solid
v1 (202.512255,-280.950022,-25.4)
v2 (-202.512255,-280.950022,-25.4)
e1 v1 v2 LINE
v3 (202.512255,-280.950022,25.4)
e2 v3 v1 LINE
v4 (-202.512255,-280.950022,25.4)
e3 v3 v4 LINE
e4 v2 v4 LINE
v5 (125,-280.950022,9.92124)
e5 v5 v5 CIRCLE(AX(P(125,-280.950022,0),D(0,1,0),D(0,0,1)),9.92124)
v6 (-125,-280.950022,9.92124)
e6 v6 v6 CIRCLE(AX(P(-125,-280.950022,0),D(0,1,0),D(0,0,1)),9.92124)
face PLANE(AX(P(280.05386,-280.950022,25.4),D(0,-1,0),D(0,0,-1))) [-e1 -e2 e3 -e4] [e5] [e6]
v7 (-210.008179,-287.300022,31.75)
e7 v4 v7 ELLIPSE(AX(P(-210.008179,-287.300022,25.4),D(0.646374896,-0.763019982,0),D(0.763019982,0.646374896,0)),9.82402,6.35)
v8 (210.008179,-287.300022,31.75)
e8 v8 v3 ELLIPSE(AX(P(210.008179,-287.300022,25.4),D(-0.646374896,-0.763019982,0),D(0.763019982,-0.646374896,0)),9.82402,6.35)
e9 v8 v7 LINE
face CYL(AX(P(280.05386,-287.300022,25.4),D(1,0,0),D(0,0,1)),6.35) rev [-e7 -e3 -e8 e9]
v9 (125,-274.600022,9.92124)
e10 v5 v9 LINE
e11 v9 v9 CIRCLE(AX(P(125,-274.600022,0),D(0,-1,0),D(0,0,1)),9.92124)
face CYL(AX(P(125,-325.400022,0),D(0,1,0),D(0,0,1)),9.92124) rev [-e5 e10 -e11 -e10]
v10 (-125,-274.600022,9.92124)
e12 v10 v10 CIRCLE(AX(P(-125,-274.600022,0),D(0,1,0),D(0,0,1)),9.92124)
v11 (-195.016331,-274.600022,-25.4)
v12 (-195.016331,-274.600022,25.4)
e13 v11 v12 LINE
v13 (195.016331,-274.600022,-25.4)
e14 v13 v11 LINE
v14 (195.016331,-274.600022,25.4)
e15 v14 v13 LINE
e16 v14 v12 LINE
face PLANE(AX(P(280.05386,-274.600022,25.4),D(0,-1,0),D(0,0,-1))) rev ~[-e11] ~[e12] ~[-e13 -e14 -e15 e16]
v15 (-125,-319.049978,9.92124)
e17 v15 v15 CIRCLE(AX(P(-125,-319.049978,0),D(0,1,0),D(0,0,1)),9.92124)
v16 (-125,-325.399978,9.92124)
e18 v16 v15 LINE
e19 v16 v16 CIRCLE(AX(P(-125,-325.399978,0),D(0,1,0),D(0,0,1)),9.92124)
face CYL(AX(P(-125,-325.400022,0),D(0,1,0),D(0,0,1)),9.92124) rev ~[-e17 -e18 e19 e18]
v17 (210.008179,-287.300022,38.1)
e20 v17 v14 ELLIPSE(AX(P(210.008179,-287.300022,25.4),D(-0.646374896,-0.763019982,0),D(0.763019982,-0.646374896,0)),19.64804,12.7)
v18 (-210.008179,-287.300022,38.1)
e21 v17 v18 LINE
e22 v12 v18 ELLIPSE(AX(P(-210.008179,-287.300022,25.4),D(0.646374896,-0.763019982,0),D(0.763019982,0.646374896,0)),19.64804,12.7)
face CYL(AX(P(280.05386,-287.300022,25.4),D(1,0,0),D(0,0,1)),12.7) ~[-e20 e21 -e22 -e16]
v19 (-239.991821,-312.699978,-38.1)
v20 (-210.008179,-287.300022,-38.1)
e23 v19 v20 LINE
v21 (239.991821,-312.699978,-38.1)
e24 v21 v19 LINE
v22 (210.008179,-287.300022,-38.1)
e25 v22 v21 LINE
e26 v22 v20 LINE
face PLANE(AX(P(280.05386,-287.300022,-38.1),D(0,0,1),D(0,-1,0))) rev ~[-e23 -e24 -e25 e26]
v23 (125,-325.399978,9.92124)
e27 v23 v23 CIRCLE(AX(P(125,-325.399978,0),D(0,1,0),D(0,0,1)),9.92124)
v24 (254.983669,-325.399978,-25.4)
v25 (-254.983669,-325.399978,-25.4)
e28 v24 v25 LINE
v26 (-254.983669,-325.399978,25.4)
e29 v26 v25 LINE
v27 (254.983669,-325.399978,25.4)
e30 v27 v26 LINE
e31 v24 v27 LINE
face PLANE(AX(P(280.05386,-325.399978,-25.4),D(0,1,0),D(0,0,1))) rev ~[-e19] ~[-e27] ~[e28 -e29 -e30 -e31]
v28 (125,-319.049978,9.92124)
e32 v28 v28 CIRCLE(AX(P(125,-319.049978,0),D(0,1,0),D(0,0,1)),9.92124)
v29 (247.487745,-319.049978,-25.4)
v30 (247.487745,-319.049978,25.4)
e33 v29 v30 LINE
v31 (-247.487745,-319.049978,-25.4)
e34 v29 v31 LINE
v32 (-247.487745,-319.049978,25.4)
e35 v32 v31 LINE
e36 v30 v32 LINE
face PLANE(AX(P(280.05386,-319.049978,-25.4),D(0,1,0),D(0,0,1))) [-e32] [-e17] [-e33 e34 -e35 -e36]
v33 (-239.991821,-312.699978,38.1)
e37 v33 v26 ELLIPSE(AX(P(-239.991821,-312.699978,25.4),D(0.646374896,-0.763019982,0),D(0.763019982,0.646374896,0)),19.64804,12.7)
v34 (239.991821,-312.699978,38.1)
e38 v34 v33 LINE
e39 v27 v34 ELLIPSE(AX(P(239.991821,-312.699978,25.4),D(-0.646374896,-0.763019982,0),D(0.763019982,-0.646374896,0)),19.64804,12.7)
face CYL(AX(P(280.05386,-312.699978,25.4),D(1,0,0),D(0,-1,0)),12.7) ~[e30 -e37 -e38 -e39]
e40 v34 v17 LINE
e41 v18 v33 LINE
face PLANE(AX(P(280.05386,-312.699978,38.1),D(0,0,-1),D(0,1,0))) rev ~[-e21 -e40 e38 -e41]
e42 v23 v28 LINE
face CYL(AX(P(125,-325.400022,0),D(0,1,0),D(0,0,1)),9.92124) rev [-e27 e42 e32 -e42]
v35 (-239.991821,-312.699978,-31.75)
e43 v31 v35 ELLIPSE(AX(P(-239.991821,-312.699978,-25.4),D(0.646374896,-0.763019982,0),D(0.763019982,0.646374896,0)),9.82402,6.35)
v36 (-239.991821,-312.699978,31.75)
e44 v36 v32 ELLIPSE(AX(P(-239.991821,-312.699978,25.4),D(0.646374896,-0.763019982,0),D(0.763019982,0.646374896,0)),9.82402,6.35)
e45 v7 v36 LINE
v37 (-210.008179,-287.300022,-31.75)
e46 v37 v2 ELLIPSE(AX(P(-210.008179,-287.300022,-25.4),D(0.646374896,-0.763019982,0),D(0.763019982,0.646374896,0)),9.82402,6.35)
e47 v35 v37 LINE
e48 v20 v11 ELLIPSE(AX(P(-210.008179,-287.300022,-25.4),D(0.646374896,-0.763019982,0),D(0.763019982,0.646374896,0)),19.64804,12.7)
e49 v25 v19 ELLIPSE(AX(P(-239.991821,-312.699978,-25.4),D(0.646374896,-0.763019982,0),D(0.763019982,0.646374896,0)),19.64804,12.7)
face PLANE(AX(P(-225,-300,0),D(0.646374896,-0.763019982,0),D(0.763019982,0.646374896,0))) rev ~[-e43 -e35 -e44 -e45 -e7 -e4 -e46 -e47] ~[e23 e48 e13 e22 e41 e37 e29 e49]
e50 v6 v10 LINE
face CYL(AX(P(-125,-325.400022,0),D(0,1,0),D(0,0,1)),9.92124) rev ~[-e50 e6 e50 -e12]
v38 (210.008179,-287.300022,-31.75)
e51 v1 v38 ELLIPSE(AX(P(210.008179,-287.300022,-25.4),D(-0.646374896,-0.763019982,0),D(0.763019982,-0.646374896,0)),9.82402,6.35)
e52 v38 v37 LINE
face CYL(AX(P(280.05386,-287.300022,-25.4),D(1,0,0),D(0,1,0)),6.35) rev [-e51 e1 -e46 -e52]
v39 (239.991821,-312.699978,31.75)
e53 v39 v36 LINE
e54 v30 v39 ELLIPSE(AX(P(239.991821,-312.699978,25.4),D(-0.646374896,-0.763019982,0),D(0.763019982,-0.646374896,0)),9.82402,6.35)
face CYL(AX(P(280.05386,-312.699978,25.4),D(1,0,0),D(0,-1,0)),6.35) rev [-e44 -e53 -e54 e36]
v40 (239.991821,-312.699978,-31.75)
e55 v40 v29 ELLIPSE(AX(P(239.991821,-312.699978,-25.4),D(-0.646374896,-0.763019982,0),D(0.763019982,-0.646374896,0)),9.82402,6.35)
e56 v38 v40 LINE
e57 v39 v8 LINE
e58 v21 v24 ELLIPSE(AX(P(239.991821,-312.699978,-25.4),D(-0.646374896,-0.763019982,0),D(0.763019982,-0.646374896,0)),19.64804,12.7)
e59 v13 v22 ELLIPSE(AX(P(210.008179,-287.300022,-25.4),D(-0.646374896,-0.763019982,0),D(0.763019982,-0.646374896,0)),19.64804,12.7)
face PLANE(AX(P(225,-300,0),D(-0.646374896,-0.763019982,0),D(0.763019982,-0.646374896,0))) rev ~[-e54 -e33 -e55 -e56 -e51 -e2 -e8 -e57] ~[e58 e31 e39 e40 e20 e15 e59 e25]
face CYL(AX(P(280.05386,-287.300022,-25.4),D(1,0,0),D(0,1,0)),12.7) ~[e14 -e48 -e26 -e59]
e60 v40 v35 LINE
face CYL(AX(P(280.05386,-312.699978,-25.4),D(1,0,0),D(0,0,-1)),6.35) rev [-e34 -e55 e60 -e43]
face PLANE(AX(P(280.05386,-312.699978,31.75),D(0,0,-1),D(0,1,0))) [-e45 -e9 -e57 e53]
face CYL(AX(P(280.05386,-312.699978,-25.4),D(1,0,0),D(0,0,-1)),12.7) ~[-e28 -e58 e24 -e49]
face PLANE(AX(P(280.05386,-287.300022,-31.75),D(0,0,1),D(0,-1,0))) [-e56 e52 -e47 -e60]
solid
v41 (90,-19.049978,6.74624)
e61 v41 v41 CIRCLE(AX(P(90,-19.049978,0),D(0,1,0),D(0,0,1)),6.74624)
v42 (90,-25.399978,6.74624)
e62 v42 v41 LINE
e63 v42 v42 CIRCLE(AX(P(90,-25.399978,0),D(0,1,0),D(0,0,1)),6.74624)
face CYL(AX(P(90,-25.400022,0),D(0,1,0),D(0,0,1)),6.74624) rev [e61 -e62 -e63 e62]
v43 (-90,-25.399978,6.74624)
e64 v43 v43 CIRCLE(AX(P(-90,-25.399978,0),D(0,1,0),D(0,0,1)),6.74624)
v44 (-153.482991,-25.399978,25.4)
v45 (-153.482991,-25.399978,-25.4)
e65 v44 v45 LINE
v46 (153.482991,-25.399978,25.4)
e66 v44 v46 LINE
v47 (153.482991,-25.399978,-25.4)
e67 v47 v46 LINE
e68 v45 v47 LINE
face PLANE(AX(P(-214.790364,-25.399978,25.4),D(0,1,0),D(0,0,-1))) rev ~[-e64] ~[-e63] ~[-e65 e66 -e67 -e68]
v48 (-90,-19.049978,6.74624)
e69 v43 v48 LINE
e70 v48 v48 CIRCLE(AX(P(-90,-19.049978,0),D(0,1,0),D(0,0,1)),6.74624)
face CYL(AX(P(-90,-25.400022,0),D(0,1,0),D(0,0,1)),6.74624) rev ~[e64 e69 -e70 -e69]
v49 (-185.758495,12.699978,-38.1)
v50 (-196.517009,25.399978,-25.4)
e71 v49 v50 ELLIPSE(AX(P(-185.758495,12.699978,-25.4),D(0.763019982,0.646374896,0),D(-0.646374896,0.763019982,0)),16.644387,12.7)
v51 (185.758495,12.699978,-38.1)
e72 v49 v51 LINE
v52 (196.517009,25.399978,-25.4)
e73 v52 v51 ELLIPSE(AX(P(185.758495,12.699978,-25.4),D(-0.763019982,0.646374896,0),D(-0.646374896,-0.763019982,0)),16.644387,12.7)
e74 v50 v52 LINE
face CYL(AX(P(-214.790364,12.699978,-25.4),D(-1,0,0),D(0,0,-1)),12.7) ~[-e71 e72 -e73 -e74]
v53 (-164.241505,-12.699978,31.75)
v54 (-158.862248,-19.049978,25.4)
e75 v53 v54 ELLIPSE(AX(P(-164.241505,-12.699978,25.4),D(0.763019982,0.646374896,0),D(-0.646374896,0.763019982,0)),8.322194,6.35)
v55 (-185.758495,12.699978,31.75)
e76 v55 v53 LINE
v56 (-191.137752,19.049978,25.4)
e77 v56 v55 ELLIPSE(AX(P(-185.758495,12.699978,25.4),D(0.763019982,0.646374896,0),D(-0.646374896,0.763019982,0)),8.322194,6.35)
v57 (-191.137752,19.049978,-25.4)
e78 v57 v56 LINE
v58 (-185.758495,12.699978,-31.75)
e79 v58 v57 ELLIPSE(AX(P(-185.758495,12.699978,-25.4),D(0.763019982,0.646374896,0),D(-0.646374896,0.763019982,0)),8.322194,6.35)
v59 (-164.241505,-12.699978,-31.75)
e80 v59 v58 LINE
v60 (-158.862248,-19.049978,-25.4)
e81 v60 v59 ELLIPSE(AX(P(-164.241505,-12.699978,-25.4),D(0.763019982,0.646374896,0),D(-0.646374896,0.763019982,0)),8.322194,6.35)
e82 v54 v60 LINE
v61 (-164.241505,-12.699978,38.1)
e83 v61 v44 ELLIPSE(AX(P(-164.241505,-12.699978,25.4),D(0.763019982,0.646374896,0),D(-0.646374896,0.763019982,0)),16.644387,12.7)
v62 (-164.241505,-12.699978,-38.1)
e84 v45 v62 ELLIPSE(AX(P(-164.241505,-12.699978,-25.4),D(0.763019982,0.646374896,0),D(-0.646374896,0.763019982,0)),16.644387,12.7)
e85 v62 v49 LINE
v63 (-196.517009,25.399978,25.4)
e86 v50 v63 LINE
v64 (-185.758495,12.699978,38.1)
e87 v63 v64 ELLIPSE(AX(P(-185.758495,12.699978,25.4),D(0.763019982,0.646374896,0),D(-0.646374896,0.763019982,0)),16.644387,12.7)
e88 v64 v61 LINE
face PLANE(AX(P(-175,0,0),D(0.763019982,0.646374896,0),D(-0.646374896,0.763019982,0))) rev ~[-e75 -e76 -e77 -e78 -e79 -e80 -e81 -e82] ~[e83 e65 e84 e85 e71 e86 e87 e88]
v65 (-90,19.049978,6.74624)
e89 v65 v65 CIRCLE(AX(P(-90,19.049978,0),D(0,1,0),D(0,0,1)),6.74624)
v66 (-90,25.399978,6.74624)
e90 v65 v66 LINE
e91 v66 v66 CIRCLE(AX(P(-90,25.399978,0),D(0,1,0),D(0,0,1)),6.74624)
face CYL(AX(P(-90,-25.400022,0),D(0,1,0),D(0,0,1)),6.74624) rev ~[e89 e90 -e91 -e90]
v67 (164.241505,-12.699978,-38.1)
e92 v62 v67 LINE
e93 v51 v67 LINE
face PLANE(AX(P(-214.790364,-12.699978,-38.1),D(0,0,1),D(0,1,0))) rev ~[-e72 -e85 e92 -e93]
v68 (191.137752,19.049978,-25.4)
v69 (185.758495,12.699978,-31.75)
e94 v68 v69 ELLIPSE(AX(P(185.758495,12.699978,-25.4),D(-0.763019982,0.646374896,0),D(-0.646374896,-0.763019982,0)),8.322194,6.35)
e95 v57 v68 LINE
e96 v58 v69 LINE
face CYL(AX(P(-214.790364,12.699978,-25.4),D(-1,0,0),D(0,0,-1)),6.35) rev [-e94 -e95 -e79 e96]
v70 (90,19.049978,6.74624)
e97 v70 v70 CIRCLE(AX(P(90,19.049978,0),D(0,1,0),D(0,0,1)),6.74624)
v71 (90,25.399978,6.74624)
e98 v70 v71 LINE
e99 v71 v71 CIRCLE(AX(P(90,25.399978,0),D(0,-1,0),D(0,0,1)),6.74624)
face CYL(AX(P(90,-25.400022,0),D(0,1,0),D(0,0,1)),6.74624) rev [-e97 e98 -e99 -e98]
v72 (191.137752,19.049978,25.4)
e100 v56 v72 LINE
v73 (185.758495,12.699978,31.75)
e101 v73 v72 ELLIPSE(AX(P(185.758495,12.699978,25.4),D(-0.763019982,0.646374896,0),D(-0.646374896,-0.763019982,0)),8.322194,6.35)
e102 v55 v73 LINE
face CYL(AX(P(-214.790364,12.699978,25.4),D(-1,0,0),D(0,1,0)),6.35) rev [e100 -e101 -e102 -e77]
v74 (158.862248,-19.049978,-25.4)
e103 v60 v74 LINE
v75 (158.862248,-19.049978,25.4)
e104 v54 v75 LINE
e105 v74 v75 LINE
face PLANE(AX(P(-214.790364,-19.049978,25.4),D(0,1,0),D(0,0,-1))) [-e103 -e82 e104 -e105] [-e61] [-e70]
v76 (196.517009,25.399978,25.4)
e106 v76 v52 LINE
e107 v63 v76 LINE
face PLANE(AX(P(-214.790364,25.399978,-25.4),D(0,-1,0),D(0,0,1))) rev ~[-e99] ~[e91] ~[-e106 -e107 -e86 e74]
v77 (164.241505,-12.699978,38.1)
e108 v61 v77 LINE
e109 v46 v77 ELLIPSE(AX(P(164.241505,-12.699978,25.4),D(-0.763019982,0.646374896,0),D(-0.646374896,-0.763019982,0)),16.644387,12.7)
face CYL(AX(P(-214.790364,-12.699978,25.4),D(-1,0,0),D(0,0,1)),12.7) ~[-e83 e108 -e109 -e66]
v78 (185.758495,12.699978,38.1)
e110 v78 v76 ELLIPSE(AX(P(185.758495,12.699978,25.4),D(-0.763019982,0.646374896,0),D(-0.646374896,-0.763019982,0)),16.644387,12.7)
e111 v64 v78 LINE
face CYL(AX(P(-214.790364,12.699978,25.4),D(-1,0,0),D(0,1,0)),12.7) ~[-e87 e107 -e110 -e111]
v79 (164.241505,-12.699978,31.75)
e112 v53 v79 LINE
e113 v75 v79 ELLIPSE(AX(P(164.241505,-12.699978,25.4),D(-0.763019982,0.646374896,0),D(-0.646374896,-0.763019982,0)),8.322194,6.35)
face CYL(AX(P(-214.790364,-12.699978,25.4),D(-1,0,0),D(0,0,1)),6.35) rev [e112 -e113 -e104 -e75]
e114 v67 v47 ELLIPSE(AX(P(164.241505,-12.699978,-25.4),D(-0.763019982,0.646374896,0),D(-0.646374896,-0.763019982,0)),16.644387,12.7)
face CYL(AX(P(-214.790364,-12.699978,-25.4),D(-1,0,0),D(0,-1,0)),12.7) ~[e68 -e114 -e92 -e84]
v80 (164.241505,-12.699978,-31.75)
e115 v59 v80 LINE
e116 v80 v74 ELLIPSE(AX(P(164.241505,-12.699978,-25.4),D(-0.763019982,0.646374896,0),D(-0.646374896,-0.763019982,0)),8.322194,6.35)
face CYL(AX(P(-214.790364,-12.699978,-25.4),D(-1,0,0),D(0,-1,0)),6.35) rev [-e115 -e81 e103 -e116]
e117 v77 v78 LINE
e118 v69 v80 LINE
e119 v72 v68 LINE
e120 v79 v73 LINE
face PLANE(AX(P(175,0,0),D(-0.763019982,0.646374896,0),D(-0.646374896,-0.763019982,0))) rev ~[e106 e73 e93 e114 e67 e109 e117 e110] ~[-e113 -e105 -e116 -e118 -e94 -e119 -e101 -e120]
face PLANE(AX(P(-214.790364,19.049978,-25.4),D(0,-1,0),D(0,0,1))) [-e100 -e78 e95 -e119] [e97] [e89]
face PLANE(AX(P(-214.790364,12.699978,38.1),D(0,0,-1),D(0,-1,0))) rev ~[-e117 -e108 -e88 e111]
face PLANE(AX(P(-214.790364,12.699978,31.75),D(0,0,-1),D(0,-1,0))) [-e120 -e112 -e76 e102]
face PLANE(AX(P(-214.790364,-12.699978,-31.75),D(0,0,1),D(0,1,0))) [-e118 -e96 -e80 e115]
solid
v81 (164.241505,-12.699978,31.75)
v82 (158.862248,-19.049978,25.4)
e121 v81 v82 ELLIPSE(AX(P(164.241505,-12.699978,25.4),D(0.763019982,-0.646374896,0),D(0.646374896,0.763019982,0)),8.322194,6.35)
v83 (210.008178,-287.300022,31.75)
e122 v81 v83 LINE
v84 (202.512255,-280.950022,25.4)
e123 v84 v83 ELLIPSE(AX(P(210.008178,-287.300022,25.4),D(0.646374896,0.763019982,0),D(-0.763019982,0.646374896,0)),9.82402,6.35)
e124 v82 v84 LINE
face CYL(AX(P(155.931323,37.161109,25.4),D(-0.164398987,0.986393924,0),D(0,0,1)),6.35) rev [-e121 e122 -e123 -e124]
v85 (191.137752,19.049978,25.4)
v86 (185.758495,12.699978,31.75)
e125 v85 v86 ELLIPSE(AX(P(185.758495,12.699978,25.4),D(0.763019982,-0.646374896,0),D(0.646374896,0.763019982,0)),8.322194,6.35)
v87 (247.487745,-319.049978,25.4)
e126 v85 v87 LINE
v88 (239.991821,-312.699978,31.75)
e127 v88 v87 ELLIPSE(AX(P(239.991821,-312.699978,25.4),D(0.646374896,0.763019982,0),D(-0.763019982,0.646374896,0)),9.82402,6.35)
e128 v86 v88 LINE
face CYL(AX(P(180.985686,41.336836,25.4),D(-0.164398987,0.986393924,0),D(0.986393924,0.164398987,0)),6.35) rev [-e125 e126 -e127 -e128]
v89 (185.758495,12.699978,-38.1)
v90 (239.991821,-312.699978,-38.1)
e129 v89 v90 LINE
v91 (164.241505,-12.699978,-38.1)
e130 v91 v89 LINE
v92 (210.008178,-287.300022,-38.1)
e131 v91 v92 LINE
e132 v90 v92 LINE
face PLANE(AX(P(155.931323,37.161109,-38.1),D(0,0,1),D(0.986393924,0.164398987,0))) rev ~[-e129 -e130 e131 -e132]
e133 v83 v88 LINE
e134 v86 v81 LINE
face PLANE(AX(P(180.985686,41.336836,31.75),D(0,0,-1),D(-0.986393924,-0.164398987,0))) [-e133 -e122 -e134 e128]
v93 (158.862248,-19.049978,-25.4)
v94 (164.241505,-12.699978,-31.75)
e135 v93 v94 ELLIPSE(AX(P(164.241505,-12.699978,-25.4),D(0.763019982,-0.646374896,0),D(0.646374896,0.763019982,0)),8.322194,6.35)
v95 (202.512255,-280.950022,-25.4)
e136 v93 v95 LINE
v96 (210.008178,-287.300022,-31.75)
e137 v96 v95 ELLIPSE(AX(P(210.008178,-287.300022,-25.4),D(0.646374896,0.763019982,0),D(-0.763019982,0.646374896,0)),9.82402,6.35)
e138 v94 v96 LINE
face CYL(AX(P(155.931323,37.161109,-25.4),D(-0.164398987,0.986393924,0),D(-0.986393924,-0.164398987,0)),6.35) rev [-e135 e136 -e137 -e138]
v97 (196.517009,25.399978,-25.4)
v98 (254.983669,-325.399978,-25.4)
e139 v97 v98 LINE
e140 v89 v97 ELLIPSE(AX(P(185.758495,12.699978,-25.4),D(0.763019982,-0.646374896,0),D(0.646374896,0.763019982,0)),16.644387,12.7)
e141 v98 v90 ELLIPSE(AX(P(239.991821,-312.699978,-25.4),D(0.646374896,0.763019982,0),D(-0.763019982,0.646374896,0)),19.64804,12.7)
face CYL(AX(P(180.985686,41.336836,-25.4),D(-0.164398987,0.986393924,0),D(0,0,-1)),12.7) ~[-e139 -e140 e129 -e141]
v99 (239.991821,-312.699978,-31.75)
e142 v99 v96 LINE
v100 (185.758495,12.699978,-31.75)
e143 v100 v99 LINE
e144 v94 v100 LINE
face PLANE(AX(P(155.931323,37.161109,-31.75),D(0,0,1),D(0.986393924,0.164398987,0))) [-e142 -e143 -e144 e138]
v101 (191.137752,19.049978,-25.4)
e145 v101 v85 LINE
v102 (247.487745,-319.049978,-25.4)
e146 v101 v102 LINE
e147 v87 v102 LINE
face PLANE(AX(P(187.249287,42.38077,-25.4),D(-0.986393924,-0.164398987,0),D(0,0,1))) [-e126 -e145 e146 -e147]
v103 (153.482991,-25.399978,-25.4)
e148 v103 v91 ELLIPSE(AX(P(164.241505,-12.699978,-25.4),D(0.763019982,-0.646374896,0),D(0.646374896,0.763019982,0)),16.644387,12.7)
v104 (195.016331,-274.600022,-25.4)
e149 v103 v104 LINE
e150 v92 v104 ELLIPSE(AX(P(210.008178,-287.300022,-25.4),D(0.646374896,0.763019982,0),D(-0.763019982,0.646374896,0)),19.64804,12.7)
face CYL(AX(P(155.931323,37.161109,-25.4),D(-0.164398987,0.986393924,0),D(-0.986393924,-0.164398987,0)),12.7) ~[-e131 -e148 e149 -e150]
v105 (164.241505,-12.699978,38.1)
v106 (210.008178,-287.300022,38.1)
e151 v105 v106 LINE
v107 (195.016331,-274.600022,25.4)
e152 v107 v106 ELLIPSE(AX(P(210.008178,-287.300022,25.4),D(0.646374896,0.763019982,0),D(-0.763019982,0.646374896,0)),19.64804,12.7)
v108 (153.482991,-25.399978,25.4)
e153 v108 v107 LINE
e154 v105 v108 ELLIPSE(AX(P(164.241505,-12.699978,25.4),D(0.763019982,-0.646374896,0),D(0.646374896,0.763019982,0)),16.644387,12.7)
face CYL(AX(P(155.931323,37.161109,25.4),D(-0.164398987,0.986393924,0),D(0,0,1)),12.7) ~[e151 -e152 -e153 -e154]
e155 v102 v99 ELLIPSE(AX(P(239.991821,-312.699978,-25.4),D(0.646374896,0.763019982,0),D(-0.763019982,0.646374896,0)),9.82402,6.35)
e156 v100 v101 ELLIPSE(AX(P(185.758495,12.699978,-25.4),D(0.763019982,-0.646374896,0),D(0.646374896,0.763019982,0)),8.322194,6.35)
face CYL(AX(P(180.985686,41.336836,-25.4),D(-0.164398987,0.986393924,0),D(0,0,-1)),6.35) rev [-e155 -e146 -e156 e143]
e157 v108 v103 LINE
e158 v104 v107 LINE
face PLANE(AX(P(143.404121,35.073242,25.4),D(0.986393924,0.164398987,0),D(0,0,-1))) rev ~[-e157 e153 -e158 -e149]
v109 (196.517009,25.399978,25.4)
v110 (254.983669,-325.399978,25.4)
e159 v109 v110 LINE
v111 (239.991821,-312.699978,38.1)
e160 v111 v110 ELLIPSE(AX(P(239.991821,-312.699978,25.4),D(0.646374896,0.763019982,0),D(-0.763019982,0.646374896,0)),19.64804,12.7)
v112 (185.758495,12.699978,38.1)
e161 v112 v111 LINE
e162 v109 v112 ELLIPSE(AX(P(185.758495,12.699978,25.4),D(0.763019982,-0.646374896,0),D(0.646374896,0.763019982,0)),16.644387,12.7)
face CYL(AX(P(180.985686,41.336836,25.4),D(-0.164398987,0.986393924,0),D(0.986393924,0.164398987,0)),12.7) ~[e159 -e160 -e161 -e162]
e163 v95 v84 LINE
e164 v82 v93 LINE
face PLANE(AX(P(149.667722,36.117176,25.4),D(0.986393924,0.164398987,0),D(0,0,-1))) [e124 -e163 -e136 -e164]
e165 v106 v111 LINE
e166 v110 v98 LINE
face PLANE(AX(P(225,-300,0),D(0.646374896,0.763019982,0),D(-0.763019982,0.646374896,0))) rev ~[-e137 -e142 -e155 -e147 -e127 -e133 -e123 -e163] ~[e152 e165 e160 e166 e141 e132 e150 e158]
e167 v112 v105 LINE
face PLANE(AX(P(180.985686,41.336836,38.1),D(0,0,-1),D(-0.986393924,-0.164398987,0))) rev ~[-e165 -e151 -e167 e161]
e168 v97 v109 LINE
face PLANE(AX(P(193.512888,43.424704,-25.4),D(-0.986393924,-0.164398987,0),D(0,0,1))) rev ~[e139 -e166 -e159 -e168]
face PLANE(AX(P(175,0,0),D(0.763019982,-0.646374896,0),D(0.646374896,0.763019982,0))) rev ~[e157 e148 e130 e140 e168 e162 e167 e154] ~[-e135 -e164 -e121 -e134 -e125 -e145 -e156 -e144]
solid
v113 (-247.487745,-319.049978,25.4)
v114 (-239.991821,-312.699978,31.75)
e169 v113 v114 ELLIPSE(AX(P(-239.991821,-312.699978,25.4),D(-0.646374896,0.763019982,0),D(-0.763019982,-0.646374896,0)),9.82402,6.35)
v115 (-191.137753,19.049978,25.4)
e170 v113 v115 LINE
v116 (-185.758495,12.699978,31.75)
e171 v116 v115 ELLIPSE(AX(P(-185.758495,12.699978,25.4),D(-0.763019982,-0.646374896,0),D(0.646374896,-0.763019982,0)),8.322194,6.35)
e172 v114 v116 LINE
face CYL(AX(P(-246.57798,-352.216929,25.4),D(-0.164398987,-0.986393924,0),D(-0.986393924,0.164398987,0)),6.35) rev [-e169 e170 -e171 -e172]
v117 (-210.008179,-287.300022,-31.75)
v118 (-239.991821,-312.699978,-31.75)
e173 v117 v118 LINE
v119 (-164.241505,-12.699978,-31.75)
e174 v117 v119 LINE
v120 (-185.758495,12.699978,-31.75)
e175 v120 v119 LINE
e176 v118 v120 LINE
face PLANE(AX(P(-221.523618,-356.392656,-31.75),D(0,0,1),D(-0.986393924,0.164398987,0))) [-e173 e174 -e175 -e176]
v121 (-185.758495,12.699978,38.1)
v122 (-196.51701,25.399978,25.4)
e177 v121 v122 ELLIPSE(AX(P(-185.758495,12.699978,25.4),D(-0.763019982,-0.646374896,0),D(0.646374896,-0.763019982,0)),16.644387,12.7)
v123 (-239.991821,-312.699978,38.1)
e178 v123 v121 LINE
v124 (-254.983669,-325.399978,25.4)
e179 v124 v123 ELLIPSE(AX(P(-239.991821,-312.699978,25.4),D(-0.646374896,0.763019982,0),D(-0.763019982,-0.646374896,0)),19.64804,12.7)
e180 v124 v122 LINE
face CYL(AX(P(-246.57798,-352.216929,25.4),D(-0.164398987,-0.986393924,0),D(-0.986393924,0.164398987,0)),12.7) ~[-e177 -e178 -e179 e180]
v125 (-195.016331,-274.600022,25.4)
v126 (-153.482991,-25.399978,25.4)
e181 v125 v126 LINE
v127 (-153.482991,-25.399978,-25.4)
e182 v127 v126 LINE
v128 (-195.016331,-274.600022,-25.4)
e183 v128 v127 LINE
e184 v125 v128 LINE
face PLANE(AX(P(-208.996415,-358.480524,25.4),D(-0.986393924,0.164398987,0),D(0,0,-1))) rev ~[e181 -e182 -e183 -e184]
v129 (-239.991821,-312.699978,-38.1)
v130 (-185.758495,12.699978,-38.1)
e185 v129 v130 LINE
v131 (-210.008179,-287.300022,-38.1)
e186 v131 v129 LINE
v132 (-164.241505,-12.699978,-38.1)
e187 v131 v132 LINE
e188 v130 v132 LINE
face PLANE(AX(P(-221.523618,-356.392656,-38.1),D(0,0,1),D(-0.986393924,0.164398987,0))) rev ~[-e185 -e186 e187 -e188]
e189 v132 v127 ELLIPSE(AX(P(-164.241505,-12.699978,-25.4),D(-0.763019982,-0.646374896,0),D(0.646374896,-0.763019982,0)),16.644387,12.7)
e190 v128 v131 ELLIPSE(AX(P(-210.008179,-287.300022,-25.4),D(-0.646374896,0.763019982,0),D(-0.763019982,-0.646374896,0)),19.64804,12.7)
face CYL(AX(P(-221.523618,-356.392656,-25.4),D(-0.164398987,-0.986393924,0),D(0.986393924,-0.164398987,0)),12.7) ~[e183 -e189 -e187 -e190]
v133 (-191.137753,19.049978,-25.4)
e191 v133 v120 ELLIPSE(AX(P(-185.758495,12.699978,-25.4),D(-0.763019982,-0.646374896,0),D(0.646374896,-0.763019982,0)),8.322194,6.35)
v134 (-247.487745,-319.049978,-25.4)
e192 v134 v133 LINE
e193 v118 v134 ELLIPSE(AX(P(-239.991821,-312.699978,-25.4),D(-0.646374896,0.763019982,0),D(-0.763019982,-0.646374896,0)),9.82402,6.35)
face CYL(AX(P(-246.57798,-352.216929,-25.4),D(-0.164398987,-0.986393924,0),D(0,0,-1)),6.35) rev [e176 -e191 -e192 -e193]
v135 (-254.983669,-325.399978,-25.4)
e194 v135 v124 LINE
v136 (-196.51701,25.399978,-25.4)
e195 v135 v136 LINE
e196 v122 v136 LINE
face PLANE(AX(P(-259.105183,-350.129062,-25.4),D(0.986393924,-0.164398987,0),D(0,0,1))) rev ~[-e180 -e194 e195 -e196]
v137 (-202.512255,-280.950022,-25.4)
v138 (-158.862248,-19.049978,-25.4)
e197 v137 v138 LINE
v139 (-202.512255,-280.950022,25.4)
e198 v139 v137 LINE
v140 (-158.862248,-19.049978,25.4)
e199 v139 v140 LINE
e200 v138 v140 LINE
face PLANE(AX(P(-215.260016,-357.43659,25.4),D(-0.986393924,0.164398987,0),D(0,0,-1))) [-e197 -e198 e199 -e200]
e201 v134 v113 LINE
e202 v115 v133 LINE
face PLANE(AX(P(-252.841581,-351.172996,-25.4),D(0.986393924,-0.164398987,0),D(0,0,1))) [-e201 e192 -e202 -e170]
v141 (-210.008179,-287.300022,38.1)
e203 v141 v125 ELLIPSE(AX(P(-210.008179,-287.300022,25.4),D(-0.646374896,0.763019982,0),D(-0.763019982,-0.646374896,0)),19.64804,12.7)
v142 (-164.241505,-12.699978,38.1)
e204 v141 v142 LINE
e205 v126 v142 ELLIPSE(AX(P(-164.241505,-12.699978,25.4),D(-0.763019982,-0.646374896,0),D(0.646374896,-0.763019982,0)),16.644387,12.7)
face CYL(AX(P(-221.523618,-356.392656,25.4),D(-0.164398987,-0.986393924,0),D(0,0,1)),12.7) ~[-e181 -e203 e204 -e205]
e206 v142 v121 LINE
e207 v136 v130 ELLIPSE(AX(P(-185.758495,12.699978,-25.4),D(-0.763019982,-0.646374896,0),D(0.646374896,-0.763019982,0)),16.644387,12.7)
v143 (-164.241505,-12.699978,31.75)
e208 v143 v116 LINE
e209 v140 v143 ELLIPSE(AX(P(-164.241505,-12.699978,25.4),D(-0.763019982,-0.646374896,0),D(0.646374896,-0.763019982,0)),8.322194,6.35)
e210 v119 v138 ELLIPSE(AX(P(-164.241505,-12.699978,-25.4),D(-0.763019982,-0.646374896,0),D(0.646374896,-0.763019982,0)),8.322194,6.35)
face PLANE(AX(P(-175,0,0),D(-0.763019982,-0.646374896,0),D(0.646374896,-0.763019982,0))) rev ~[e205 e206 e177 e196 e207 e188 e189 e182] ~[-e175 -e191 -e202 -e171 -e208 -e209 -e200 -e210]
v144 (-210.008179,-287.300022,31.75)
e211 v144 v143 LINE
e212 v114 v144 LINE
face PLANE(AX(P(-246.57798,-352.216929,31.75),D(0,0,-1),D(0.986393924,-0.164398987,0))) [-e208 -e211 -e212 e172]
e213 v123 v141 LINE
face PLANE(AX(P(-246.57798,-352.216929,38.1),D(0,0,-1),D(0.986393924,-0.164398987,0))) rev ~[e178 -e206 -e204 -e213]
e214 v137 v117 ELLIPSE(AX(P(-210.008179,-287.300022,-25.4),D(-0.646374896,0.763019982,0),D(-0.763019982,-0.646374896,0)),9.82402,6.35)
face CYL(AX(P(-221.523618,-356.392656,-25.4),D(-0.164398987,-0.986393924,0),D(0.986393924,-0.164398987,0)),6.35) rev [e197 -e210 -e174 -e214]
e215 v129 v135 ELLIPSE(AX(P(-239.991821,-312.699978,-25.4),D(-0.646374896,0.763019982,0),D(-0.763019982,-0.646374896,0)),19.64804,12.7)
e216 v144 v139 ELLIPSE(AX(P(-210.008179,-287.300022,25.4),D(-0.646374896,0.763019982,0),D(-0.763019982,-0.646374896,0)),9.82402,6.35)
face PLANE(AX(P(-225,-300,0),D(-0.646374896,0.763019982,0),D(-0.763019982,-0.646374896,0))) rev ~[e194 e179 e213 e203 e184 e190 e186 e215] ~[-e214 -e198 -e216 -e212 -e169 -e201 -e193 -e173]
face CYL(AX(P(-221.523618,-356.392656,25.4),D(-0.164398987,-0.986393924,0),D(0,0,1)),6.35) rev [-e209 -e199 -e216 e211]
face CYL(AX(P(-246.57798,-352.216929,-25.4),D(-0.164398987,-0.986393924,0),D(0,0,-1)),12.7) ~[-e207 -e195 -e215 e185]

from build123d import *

# Parameters (mm, degrees)
STRUCTURAL_MEMBER1_DEPTH      = 389.790363618
STRUCTURAL_MEMBER1_DEPTH_BACK = 39.790363618
STRUCTURAL_MEMBER1_2_DEPTH    = 398.982350083
STRUCTURAL_MEMBER1_3_DEPTH    = 560.107719899
STRUCTURAL_MEMBER1_4_DEPTH    = 398.982350083


with BuildPart() as part:
    # Sketch141 → Structural Member1 (new, two sides: drawn at the far end of the back side and taken through both)
    with BuildSketch(Plane.YZ.offset(-175).offset(-STRUCTURAL_MEMBER1_DEPTH_BACK)):
        with BuildLine():
            Line((-12.699978, -38.1), (12.699978, -38.1))
            ThreePointArc((12.699978, -38.1), (21.680234121, -34.380256121), (25.399978, -25.4))
            Line((25.399978, -25.4), (25.399978, 25.4))
            ThreePointArc((25.399978, 25.4), (21.680234121, 34.380256121), (12.699978, 38.1))
            Line((12.699978, 38.1), (-12.699978, 38.1))
            ThreePointArc((-12.699978, 38.1), (-21.680234121, 34.380256121), (-25.399978, 25.4))
            Line((-25.399978, 25.4), (-25.399978, -25.4))
            ThreePointArc((-25.399978, -25.4), (-21.680234121, -34.380256121), (-12.699978, -38.1))
        make_face()
        with BuildLine():
            Line((-12.699978, -31.75), (12.699978, -31.75))
            ThreePointArc((12.699978, -31.75), (17.190106061, -29.890128061), (19.049978, -25.4))
            Line((19.049978, -25.4), (19.049978, 25.4))
            ThreePointArc((19.049978, 25.4), (17.190106061, 29.890128061), (12.699978, 31.75))
            Line((12.699978, 31.75), (-12.699978, 31.75))
            ThreePointArc((-12.699978, 31.75), (-17.190106061, 29.890128061), (-19.049978, 25.4))
            Line((-19.049978, 25.4), (-19.049978, -25.4))
            ThreePointArc((-19.049978, -25.4), (-17.190106061, -29.890128061), (-12.699978, -31.75))
        make_face(mode=Mode.SUBTRACT)
    extrude(amount=STRUCTURAL_MEMBER1_DEPTH + STRUCTURAL_MEMBER1_DEPTH_BACK)

    # Structural Member1 mitre 1
    split(bisect_by=Plane(origin=(-175, 0, 0), x_dir=(-0.646374896, 0.763019982, 0), z_dir=(0.763019982, 0.646374896, 0)), keep=Keep.TOP)

    # Structural Member1 mitre 2
    split(bisect_by=Plane(origin=(175, 0, 0), x_dir=(-0.646374896, -0.763019982, 0), z_dir=(-0.763019982, 0.646374896, 0)), keep=Keep.TOP)

    # Sketch143 → 1/2 Clearance Hole1 (revolve, cut)
    with BuildSketch(Plane(origin=(90, 25.399978, 0), x_dir=(0, 0, 1), z_dir=(1, 0, 0))):
        Polygon((0, 0), (0, 54.853549943), (6.74624, 50.8), (6.74624, 0), align=None)
    f_1_2_clearance_hole1 = revolve(axis=Axis((90, 31.749978, 0), (0, -1, 0)), mode=Mode.SUBTRACT)

    # Mirror1: 1/2 Clearance Hole1 across plane
    add(f_1_2_clearance_hole1.mirror(Plane(origin=(0, 0, 0), x_dir=(0, 0, 1), z_dir=(1, 0, 0))), mode=Mode.SUBTRACT)


with BuildPart() as body_2:
    # Sketch141 on segment 2 (carried to segment 2) → Structural Member1 2 (new body)
    with BuildSketch(Plane(origin=(168.458504517, 39.2489729, 0), x_dir=(0.986393924, 0.164398987, 0), z_dir=(0.164398987, -0.986393924, 0))):
        with BuildLine():
            Line((-12.699978, -38.1), (12.699978, -38.1))
            ThreePointArc((12.699978, -38.1), (21.680234121, -34.380256121), (25.399978, -25.4))
            Line((25.399978, -25.4), (25.399978, 25.4))
            ThreePointArc((25.399978, 25.4), (21.680234121, 34.380256121), (12.699978, 38.1))
            Line((12.699978, 38.1), (-12.699978, 38.1))
            ThreePointArc((-12.699978, 38.1), (-21.680234121, 34.380256121), (-25.399978, 25.4))
            Line((-25.399978, 25.4), (-25.399978, -25.4))
            ThreePointArc((-25.399978, -25.4), (-21.680234121, -34.380256121), (-12.699978, -38.1))
        make_face()
        with BuildLine():
            Line((-12.699978, -31.75), (12.699978, -31.75))
            ThreePointArc((12.699978, -31.75), (17.190106061, -29.890128061), (19.049978, -25.4))
            Line((19.049978, -25.4), (19.049978, 25.4))
            ThreePointArc((19.049978, 25.4), (17.190106061, 29.890128061), (12.699978, 31.75))
            Line((12.699978, 31.75), (-12.699978, 31.75))
            ThreePointArc((-12.699978, 31.75), (-17.190106061, 29.890128061), (-19.049978, 25.4))
            Line((-19.049978, 25.4), (-19.049978, -25.4))
            ThreePointArc((-19.049978, -25.4), (-17.190106061, -29.890128061), (-12.699978, -31.75))
        make_face(mode=Mode.SUBTRACT)
    extrude(amount=STRUCTURAL_MEMBER1_2_DEPTH)

    # Structural Member1 2 mitre 1
    split(bisect_by=Plane(origin=(175, 0, 0), x_dir=(0.646374896, 0.763019982, 0), z_dir=(0.763019982, -0.646374896, 0)), keep=Keep.TOP)

    # Structural Member1 2 mitre 2
    split(bisect_by=Plane(origin=(225, -300, 0), x_dir=(-0.763019982, 0.646374896, 0), z_dir=(0.646374896, 0.763019982, 0)), keep=Keep.TOP)


with BuildPart() as body_3:
    # Sketch141 on segment 3 (carried to segment 3) → Structural Member1 3 (new body)
    with BuildSketch(Plane(origin=(280.05385995, -300, 0), x_dir=(0, -1, 0), z_dir=(-1, 0, 0))):
        with BuildLine():
            Line((-12.699978, -38.1), (12.699978, -38.1))
            ThreePointArc((12.699978, -38.1), (21.680234121, -34.380256121), (25.399978, -25.4))
            Line((25.399978, -25.4), (25.399978, 25.4))
            ThreePointArc((25.399978, 25.4), (21.680234121, 34.380256121), (12.699978, 38.1))
            Line((12.699978, 38.1), (-12.699978, 38.1))
            ThreePointArc((-12.699978, 38.1), (-21.680234121, 34.380256121), (-25.399978, 25.4))
            Line((-25.399978, 25.4), (-25.399978, -25.4))
            ThreePointArc((-25.399978, -25.4), (-21.680234121, -34.380256121), (-12.699978, -38.1))
        make_face()
        with BuildLine():
            Line((-12.699978, -31.75), (12.699978, -31.75))
            ThreePointArc((12.699978, -31.75), (17.190106061, -29.890128061), (19.049978, -25.4))
            Line((19.049978, -25.4), (19.049978, 25.4))
            ThreePointArc((19.049978, 25.4), (17.190106061, 29.890128061), (12.699978, 31.75))
            Line((12.699978, 31.75), (-12.699978, 31.75))
            ThreePointArc((-12.699978, 31.75), (-17.190106061, 29.890128061), (-19.049978, 25.4))
            Line((-19.049978, 25.4), (-19.049978, -25.4))
            ThreePointArc((-19.049978, -25.4), (-17.190106061, -29.890128061), (-12.699978, -31.75))
        make_face(mode=Mode.SUBTRACT)
    extrude(amount=STRUCTURAL_MEMBER1_3_DEPTH)

    # Structural Member1 3 mitre 1
    split(bisect_by=Plane(origin=(225, -300, 0), x_dir=(0.763019982, -0.646374896, 0), z_dir=(-0.646374896, -0.763019982, 0)), keep=Keep.TOP)

    # Structural Member1 3 mitre 2
    split(bisect_by=Plane(origin=(-225, -300, 0), x_dir=(0.763019982, 0.646374896, 0), z_dir=(0.646374896, -0.763019982, 0)), keep=Keep.TOP)

    # Sketch144 → 3/4 Clearance Hole2 (revolve, cut)
    with BuildSketch(Plane(origin=(125, -274.600022, 0), x_dir=(0, 0, 1), z_dir=(1, 0, 0))):
        Polygon((0, 0), (0, 56.761282408), (9.92124, 50.8), (9.92124, 0), align=None)
    f_3_4_clearance_hole2 = revolve(axis=Axis((125, -268.250022, 0), (0, -1, 0)), mode=Mode.SUBTRACT)

    # Mirror2: 3/4 Clearance Hole2 across plane
    add(f_3_4_clearance_hole2.mirror(Plane(origin=(0, 0, 0), x_dir=(0, 0, 1), z_dir=(1, 0, 0))), mode=Mode.SUBTRACT)


with BuildPart() as body_4:
    # Sketch141 on segment 4 (carried to segment 4) → Structural Member1 4 (new body)
    with BuildSketch(Plane(origin=(-234.050798823, -354.304792938, 0), x_dir=(-0.986393924, 0.164398987, 0), z_dir=(0.164398987, 0.986393924, 0))):
        with BuildLine():
            Line((-12.699978, -38.1), (12.699978, -38.1))
            ThreePointArc((12.699978, -38.1), (21.680234121, -34.380256121), (25.399978, -25.4))
            Line((25.399978, -25.4), (25.399978, 25.4))
            ThreePointArc((25.399978, 25.4), (21.680234121, 34.380256121), (12.699978, 38.1))
            Line((12.699978, 38.1), (-12.699978, 38.1))
            ThreePointArc((-12.699978, 38.1), (-21.680234121, 34.380256121), (-25.399978, 25.4))
            Line((-25.399978, 25.4), (-25.399978, -25.4))
            ThreePointArc((-25.399978, -25.4), (-21.680234121, -34.380256121), (-12.699978, -38.1))
        make_face()
        with BuildLine():
            Line((-12.699978, -31.75), (12.699978, -31.75))
            ThreePointArc((12.699978, -31.75), (17.190106061, -29.890128061), (19.049978, -25.4))
            Line((19.049978, -25.4), (19.049978, 25.4))
            ThreePointArc((19.049978, 25.4), (17.190106061, 29.890128061), (12.699978, 31.75))
            Line((12.699978, 31.75), (-12.699978, 31.75))
            ThreePointArc((-12.699978, 31.75), (-17.190106061, 29.890128061), (-19.049978, 25.4))
            Line((-19.049978, 25.4), (-19.049978, -25.4))
            ThreePointArc((-19.049978, -25.4), (-17.190106061, -29.890128061), (-12.699978, -31.75))
        make_face(mode=Mode.SUBTRACT)
    extrude(amount=STRUCTURAL_MEMBER1_4_DEPTH)

    # Structural Member1 4 mitre 1
    split(bisect_by=Plane(origin=(-225, -300, 0), x_dir=(-0.763019982, -0.646374896, 0), z_dir=(-0.646374896, 0.763019982, 0)), keep=Keep.TOP)

    # Structural Member1 4 mitre 2
    split(bisect_by=Plane(origin=(-175, 0, 0), x_dir=(0.646374896, -0.763019982, 0), z_dir=(-0.763019982, -0.646374896, 0)), keep=Keep.TOP)


solid = Compound([part.part, body_2.part, body_3.part, body_4.part])
